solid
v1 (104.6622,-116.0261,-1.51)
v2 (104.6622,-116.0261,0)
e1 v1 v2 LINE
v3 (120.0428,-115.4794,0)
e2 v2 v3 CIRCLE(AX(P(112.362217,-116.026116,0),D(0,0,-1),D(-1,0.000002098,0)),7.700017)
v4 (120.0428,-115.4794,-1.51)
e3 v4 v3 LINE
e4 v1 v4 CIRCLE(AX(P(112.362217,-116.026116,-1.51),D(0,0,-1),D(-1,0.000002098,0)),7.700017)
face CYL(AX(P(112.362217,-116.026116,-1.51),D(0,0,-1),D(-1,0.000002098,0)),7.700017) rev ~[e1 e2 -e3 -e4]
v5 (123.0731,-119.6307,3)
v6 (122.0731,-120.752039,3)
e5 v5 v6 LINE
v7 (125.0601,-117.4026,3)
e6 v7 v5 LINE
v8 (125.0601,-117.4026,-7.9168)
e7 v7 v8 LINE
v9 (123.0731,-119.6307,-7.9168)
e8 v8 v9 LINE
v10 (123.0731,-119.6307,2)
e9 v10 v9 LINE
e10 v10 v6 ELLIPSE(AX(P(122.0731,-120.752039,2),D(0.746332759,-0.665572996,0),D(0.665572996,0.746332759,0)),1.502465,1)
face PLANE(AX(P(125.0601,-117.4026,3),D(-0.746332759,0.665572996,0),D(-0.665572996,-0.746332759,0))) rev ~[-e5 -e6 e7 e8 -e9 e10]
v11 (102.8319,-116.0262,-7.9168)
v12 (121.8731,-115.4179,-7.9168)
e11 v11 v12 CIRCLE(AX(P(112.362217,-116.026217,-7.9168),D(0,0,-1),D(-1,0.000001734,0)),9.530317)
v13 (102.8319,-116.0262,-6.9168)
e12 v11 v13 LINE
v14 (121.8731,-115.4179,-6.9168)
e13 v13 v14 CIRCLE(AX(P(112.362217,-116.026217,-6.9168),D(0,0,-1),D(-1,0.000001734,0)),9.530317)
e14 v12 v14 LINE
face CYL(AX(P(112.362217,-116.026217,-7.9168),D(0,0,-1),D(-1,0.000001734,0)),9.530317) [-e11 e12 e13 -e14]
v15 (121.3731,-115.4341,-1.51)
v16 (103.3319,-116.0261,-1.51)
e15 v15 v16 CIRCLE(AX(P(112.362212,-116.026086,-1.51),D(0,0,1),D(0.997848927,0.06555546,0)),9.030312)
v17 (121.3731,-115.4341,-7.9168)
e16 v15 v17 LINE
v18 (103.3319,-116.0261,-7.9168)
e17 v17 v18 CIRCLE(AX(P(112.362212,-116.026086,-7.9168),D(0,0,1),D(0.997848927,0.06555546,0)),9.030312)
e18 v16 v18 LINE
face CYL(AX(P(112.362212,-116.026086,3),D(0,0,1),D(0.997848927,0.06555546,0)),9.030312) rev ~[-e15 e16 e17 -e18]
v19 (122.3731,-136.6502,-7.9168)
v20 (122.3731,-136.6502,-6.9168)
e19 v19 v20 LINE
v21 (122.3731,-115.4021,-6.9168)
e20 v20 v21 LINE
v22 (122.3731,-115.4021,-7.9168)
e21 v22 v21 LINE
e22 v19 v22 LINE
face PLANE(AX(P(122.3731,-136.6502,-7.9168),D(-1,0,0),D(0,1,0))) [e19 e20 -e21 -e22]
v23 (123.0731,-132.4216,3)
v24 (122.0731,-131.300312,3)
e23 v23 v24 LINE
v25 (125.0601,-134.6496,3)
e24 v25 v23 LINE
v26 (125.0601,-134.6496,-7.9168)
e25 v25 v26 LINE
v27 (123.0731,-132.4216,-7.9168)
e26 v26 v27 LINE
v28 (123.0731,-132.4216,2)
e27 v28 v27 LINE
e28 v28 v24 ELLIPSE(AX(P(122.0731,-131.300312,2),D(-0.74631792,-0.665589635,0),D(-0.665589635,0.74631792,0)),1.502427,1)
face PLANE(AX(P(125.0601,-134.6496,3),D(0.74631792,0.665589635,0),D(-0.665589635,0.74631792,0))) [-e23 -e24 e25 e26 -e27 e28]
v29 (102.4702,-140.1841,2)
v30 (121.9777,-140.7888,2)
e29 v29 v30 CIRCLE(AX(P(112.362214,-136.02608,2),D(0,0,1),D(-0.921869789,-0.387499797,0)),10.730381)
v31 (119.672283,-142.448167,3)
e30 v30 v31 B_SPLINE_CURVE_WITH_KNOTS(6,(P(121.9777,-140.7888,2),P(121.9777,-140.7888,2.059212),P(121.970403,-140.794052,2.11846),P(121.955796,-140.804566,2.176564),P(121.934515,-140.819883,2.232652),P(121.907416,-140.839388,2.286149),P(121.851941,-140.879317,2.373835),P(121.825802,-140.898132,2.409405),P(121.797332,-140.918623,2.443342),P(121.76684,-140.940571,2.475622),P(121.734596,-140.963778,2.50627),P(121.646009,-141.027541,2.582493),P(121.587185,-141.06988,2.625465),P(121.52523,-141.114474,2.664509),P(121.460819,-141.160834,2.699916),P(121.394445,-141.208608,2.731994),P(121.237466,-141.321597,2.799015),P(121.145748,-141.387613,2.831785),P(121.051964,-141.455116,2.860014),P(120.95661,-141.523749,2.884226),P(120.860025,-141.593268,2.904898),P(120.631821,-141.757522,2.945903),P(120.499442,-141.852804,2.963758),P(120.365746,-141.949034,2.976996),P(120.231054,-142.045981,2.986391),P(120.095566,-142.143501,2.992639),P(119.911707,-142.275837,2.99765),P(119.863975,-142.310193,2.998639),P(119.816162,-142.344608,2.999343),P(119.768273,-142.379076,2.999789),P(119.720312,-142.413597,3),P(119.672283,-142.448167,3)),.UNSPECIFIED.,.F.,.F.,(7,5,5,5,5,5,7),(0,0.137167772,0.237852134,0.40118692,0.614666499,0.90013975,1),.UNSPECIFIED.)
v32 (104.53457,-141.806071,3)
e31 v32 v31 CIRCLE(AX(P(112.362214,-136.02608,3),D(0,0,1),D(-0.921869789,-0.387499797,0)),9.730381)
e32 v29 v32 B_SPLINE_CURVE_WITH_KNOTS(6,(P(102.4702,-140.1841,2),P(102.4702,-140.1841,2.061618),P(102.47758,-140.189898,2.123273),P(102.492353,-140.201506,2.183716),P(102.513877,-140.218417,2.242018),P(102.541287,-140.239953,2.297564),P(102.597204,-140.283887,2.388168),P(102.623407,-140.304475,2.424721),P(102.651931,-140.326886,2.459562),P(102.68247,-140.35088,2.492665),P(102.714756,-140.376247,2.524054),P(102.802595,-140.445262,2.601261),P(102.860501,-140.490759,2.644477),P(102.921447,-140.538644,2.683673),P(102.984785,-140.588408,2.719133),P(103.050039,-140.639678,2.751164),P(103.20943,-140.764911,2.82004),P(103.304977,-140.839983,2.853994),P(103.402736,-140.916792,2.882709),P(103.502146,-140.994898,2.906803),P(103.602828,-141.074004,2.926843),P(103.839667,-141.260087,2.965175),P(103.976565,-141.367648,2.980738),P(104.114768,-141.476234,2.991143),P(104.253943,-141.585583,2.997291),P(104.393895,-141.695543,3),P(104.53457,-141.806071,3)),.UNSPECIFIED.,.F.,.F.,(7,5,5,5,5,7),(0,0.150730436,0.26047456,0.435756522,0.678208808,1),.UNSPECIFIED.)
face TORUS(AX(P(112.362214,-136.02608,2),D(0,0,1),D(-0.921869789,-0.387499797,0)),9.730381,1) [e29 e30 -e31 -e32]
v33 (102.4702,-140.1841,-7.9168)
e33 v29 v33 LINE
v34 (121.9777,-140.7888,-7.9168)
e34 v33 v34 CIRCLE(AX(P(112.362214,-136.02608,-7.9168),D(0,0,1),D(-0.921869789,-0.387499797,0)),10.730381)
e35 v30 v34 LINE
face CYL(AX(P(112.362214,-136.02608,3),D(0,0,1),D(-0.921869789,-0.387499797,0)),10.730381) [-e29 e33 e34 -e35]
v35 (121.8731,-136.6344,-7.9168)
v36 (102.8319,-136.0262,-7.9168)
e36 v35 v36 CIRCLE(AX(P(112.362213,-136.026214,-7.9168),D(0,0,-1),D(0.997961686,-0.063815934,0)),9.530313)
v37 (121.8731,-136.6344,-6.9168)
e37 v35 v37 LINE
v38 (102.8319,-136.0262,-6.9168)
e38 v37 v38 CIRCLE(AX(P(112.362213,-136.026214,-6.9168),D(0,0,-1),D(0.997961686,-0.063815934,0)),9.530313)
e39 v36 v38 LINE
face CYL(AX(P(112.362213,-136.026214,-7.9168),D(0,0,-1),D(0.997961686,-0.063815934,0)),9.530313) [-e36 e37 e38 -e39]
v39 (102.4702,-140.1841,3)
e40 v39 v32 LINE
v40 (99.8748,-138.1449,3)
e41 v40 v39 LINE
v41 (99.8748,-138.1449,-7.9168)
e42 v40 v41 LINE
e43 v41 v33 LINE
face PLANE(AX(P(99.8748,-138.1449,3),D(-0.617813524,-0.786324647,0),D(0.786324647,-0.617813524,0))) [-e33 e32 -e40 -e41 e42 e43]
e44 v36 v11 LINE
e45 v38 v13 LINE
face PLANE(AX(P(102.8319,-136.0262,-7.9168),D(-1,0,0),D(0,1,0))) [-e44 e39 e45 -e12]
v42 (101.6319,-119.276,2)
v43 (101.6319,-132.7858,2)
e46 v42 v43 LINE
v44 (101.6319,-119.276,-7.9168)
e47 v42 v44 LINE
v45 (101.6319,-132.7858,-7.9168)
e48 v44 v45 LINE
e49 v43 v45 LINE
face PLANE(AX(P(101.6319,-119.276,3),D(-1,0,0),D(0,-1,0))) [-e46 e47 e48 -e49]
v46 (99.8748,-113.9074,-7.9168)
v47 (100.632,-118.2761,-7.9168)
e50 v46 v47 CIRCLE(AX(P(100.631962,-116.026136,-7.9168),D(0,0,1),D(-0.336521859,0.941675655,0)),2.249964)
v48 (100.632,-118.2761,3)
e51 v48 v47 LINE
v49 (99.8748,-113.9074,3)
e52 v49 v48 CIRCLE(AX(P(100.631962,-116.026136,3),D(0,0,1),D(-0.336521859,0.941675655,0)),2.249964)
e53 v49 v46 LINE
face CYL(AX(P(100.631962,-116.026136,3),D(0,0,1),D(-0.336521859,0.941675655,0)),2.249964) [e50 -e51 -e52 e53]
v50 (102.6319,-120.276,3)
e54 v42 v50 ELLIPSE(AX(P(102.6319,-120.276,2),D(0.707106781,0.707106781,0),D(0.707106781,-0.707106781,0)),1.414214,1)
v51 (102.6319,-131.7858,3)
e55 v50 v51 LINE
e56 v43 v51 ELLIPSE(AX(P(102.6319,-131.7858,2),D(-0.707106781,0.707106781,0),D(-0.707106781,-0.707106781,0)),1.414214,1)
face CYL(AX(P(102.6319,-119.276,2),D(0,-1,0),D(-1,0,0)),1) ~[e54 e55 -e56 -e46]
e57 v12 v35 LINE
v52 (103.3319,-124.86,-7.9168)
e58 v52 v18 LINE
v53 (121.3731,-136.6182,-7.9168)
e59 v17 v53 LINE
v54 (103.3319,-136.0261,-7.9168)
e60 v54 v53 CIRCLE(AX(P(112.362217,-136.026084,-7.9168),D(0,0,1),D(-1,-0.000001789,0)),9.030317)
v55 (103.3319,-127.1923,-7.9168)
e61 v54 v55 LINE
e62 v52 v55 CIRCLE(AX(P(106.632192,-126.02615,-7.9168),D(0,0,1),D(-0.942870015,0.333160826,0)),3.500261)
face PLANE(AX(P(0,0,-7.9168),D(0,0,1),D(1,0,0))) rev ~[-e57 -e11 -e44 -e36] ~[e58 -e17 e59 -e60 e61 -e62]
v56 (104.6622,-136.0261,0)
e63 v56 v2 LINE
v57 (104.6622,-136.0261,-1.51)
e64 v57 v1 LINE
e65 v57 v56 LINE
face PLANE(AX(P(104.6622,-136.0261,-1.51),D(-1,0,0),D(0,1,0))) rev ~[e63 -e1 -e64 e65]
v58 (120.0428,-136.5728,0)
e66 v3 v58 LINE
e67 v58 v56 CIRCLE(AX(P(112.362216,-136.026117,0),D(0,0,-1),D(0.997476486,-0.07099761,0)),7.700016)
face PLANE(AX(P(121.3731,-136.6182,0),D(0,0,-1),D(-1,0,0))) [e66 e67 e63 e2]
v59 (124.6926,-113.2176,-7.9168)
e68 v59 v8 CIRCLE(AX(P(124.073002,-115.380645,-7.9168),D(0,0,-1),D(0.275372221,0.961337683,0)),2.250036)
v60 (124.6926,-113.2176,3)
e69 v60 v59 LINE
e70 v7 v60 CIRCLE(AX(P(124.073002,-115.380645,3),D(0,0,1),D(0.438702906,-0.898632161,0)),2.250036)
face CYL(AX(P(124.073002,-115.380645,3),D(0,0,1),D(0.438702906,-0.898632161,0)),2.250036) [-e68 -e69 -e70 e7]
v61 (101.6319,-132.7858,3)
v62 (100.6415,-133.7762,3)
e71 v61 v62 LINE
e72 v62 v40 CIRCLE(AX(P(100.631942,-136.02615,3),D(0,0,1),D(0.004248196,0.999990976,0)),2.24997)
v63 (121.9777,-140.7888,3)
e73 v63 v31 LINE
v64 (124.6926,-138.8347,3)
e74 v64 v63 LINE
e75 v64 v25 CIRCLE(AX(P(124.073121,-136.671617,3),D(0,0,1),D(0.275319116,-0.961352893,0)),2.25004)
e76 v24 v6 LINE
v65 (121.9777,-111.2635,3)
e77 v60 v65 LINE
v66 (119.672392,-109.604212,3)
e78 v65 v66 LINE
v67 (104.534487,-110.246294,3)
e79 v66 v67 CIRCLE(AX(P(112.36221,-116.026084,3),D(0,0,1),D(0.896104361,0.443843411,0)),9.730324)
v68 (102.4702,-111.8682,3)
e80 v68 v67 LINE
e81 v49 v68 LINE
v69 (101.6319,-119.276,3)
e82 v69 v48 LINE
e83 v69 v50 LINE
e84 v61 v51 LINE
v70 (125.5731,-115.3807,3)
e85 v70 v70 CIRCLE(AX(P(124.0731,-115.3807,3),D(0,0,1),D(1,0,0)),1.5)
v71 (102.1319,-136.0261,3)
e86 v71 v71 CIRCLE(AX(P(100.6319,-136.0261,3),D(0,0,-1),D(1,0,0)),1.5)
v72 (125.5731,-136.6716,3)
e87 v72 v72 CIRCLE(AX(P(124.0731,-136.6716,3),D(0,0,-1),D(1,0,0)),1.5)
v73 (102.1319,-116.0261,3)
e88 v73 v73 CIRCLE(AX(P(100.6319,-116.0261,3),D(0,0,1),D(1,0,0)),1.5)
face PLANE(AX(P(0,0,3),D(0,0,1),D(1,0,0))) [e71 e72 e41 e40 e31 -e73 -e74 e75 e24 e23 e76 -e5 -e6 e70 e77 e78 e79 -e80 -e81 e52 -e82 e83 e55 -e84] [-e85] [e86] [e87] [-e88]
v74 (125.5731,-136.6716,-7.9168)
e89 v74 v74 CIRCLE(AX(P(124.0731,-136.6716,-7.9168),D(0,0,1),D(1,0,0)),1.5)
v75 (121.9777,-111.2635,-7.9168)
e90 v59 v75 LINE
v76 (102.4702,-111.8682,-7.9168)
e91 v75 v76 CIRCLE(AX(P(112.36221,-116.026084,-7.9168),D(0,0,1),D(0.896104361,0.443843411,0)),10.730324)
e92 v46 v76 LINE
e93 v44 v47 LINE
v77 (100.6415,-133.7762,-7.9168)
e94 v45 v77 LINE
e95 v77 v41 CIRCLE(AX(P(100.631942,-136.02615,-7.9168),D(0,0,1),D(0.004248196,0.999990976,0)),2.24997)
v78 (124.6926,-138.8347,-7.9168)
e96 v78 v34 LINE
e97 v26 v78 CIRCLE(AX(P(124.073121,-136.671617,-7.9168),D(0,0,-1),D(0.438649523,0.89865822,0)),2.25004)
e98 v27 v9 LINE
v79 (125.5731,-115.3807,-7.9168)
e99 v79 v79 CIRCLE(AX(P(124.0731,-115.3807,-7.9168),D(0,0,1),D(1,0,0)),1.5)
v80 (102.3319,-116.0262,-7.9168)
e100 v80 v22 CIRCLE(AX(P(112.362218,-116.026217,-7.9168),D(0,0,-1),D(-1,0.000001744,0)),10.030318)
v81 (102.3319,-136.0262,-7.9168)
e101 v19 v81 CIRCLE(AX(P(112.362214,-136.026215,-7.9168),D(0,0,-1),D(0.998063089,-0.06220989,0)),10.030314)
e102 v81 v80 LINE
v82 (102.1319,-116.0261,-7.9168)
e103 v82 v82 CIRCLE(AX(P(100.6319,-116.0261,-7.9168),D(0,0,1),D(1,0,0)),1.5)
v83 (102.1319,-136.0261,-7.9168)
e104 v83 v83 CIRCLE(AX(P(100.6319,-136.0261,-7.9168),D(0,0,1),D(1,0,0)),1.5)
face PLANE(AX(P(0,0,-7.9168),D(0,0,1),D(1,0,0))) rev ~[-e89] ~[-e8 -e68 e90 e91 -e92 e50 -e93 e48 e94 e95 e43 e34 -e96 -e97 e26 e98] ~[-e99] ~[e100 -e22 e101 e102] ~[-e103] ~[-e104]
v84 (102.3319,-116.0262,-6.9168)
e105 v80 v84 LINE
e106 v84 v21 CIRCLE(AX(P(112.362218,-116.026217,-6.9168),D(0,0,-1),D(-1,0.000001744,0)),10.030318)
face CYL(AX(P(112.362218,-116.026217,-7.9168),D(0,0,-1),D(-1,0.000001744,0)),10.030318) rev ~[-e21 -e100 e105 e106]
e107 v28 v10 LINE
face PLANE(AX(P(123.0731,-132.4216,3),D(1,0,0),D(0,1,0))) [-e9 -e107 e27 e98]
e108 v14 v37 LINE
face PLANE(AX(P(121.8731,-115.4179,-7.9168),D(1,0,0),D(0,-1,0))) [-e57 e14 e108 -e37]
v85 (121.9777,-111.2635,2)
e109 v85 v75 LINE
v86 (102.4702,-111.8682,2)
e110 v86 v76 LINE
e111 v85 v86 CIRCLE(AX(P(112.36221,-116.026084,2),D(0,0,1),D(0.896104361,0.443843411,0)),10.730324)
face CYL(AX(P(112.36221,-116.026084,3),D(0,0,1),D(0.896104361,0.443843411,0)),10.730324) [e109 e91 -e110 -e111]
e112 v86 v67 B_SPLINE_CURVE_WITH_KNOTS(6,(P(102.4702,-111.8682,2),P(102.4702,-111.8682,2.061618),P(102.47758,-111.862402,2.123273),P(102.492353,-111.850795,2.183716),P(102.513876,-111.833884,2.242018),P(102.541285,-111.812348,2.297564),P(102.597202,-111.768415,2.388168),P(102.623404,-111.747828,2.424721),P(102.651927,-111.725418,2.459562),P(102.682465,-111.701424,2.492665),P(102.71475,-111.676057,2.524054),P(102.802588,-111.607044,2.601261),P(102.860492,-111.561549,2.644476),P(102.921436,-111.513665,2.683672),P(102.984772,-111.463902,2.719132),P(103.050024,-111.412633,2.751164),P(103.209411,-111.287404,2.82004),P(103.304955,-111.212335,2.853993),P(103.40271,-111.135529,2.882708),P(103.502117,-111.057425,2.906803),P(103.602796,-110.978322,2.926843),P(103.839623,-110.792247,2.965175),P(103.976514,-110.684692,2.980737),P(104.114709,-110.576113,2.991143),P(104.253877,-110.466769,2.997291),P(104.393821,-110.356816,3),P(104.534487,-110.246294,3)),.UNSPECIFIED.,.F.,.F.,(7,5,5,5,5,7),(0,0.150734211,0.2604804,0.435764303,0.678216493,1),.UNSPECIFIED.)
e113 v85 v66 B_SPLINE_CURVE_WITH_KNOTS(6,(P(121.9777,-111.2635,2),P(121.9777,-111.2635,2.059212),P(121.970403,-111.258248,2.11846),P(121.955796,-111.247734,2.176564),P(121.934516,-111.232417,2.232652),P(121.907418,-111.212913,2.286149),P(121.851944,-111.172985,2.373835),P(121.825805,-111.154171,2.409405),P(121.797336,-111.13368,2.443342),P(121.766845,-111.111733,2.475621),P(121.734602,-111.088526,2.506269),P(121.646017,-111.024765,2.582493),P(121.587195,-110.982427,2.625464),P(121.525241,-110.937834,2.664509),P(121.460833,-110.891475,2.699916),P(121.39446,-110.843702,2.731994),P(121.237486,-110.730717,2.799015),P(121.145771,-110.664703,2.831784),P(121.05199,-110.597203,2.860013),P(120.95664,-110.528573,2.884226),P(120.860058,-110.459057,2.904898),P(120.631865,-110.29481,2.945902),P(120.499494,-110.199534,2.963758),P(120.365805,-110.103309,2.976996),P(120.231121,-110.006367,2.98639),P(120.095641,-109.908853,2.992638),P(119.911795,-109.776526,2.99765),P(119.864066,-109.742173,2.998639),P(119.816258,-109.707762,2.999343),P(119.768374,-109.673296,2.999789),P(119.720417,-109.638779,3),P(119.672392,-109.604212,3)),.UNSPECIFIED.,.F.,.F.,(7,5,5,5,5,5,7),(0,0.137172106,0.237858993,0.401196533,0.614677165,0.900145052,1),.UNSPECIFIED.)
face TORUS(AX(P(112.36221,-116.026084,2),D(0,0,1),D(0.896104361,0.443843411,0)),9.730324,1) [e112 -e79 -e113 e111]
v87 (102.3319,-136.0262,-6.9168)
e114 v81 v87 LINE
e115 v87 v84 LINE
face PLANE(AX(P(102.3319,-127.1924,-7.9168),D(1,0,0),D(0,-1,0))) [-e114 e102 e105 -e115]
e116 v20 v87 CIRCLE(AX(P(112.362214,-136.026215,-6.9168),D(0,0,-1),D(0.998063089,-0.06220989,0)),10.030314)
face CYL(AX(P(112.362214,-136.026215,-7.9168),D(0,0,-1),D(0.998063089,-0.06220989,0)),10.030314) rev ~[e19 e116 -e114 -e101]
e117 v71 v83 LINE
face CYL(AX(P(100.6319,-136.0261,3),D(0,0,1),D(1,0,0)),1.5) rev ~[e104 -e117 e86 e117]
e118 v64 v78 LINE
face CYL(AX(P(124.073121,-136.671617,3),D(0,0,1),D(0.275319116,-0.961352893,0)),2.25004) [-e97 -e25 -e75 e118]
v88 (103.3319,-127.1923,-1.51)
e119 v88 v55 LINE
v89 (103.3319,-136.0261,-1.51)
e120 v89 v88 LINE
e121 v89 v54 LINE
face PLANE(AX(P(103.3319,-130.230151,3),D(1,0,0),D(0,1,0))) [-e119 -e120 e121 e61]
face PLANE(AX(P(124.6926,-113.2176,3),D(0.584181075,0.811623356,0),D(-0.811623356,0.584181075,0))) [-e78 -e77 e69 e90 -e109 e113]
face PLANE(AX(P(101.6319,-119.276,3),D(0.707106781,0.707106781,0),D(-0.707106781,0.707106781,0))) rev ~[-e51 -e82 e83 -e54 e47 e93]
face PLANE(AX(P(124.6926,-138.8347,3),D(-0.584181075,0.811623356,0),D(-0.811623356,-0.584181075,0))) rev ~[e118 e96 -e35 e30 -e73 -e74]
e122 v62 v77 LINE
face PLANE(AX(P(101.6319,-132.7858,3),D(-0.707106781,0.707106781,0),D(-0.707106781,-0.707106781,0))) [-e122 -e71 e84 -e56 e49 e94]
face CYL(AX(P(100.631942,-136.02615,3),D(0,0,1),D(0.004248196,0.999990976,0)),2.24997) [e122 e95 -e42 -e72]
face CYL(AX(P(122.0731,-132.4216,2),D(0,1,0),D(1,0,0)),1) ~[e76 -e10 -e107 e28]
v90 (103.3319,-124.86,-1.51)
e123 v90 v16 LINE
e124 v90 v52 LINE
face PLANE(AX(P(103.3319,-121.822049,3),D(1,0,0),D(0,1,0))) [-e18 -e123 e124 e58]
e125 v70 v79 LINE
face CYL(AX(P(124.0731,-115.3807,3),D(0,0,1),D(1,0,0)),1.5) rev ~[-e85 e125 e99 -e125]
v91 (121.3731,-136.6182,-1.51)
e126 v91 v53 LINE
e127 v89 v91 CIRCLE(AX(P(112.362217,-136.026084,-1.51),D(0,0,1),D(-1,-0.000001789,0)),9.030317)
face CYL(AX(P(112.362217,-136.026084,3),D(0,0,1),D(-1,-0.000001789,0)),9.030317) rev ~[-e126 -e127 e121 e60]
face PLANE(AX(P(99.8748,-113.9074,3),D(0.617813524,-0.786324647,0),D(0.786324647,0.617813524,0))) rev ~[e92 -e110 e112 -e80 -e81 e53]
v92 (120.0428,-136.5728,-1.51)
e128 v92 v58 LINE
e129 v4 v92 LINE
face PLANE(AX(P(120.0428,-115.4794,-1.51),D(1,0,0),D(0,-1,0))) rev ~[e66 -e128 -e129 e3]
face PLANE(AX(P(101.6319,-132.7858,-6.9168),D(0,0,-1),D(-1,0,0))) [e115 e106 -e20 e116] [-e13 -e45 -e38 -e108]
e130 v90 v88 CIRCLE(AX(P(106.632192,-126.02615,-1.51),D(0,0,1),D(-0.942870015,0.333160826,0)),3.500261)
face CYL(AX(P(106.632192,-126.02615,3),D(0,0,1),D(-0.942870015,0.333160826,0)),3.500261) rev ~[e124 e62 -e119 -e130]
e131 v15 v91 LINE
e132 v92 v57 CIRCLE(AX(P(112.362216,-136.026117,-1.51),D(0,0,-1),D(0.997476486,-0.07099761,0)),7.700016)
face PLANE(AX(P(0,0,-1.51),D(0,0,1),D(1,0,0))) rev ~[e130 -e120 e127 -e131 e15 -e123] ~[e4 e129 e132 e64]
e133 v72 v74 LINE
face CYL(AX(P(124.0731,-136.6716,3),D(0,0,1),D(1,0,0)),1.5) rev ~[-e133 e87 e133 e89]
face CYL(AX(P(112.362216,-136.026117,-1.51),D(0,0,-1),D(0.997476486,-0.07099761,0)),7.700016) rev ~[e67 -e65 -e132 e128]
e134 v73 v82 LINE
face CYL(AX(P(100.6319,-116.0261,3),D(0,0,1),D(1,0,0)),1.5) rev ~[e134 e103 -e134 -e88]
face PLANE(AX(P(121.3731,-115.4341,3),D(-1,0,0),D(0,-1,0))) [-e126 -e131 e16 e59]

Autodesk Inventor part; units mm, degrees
ref_plane "Work Plane1" through (0, 0, 0) normal (0, 0, 1) x (1, 0, 0)
sketch "Sketch1" plane through (0, 0, 0) normal (0, 0, 1) x (1, 0, 0)
  line L0 (119.8428, -136.5657) -> (119.8428, -115.4866) projected
  arc A0 (119.8428, -115.4866) -> (104.8622, -116.0261) centre (112.3622, -116.0261) ccw projected
  line L1 (104.8622, -136.0261) -> (104.8622, -116.0261) projected
  arc A1 (104.8622, -136.0261) -> (119.8428, -136.5657) centre (112.3622, -136.0261) ccw projected
  circle A2 centre (117.3428, -116.0541) radius 0.5 projected
  circle A3 centre (106.6428, -124.9791) radius 0.5 projected
  circle A4 centre (106.6428, -127.5191) radius 0.5 projected
  circle A5 centre (117.3428, -136.0541) radius 0.5 projected
  arc A6 (103.3319, -124.86) -> (103.3319, -127.1923) centre (106.6319, -126.0261) ccw projected
  line L2 (103.3319, -124.86) -> (103.3319, -116.0261) projected
  arc A7 (121.3731, -115.4341) -> (103.3319, -116.0261) centre (112.3622, -116.0261) ccw projected
  line L3 (121.3731, -115.4341) -> (121.3731, -136.6182) projected
  arc A8 (103.3319, -136.0261) -> (121.3731, -136.6182) centre (112.3622, -136.0261) ccw projected
  line L4 (103.3319, -136.0261) -> (103.3319, -127.1923) projected
  arc A9 (121.8731, -115.4179) -> (102.8319, -116.0261) centre (112.3622, -116.0261) ccw projected
  line L5 (102.8319, -116.0261) -> (102.8319, -136.0261) projected
  arc A10 (102.8319, -136.0261) -> (121.8731, -136.6344) centre (112.3622, -136.0261) ccw projected
  line L6 (121.8731, -136.6344) -> (121.8731, -115.4179) projected
  point P0 (0, 0)
  point P1 (107.9, -107.4721)
  point P2 (107.9, -127.4721)
extrude "Extrusion1" add sketch "Sketch1" along normal blind 3 contours A1 L1 A0 L0 | A2 | A3 | A4 | A5
ref_plane "Work Plane3" through (97.1697, -138.2024, -7.9168) normal (0, 0, 1) x (1, 0, 0)
ref_plane "Work Plane4" through (100.4, -134.9721, -1.51) normal (0, 0, -1) x (0, 1, 0)
sketch "Sketch4" plane through (0, 0, 3) normal (0, 0, 1) x (1, 0, 0)
  line L0 (103.3319, -124.86) -> (103.3319, -116.0261)
  line L1 (103.3319, -136.0261) -> (103.3319, -127.1923)
  arc A0 (103.3319, -136.0261) -> (121.3731, -136.6182) centre (112.3622, -136.0261) ccw
  line L2 (121.3731, -115.4341) -> (121.3731, -136.6182)
  arc A1 (121.3731, -115.4341) -> (103.3319, -116.0261) centre (112.3622, -116.0261) ccw
  line L3 (103.3319, -124.86) -> (103.3319, -127.1923)
  circle A2 centre (112.3622, -136.0261) radius 6.35
  line L4 (119.8428, -136.5657) -> (119.8428, -115.4866)
  arc A3 (119.8428, -115.4866) -> (104.8622, -116.0261) centre (112.3622, -116.0261) ccw
  line L5 (104.8622, -116.0261) -> (104.8622, -136.0261)
  arc A4 (104.8622, -136.0261) -> (119.8428, -136.5657) centre (112.3622, -136.0261) ccw
  point P0 (0, 0)
extrude "Extrusion4" add sketch "Sketch4" against normal up to surface (4.51 mm away) contours L0 A1 L2 A0 L1 L3
sketch "Sketch5" plane through (121.3731, -136.6182, -1.51) normal (0, 0, -1) x (-1, 0, 0)
  line L0 (16.5109, 20.5921) -> (16.5109, 13.6117) projected
  line L1 (16.5109, 0.5921) -> (16.5109, 20.5921) projected
  arc A0 (1.5303, 0.0526) -> (16.5109, 0.5921) centre (9.0109, 0.5921) ccw projected
  line L2 (1.5303, 0.0526) -> (1.5303, 21.1316) projected
  arc A1 (16.5109, 20.5921) -> (1.5303, 21.1316) centre (9.0109, 20.5921) ccw projected
  line L3 (1.3303, 21.1388) -> (1.3303, 0.0454)
  arc A2 (1.3303, 0.0454) -> (16.7109, 0.5921) centre (9.0109, 0.5921) ccw
  line L4 (16.7109, 0.5921) -> (16.7109, 20.5921)
  arc A3 (16.7109, 20.5921) -> (1.3303, 21.1388) centre (9.0109, 20.5921) ccw
  point P0 (121.3731, 136.6182)
  dimension "d10" = 0.2
extrude "Extrusion5" cut sketch "Sketch5" against normal up to surface (1.51 mm away)
ref_plane "Work Plane5" through (93.9197, -138.2024, -7.9168) normal (0, 0, 1) x (1, 0, 0)
ref_plane "Work Plane6" through (93.9197, -138.2024, -7.9168) normal (0, 0, 1) x (1, 0, 0)
sketch "Sketch10" plane through (0, 0, 3) normal (0, 0, 1) x (1, 0, 0)
  line L0 (103.3319, -116.0261) -> (103.3319, -136.0261) projected
  arc A0 (103.3319, -124.86) -> (103.3319, -127.1923) centre (106.6319, -126.0261) ccw projected
  point P0 (0, 0)
  point P1 (103.3319, -135.2618)
extrude "Extrusion10" add sketch "Sketch10" against normal up to surface (4.51 mm away)
sketch "Sketch11" plane through (0, 0, 3) normal (0, 0, 1) x (1, 0, 0)
  circle A0 centre (124.0731, -115.3807) radius 1.5 projected
  circle A1 centre (100.6319, -116.0261) radius 1.5 projected
  circle A2 centre (124.0731, -136.6716) radius 1.5 projected
  circle A3 centre (100.6319, -136.0261) radius 1.5 projected
  line L0 (101.6319, -119.276) -> (100.632, -118.2761) projected
  line L1 (101.6319, -119.276) -> (101.6319, -132.7858) projected
  line L2 (101.6319, -132.7858) -> (100.6415, -133.7762) projected
  arc A4 (100.6415, -133.7762) -> (99.8748, -138.1449) centre (100.6319, -136.0261) ccw projected
  line L3 (99.8748, -138.1449) -> (102.4702, -140.1841) projected
  arc A5 (102.4702, -140.1841) -> (121.9777, -140.7888) centre (112.3622, -136.0261) ccw projected
  line L4 (124.6926, -138.8347) -> (121.9777, -140.7888) projected
  arc A6 (124.6926, -138.8347) -> (125.0601, -134.6496) centre (124.0731, -136.6716) ccw projected
  line L5 (125.0601, -134.6496) -> (123.0731, -132.4216) projected
  line L6 (123.0731, -132.4216) -> (123.0731, -119.6307) projected
  line L7 (125.0601, -117.4026) -> (123.0731, -119.6307) projected
  arc A7 (125.0601, -117.4026) -> (124.6926, -113.2176) centre (124.0731, -115.3807) ccw projected
  line L8 (124.6926, -113.2176) -> (121.9777, -111.2635) projected
  arc A8 (121.9777, -111.2635) -> (102.4702, -111.8682) centre (112.3622, -116.0261) ccw projected
  line L9 (99.8748, -113.9074) -> (102.4702, -111.8682) projected
  arc A9 (99.8748, -113.9074) -> (100.6319, -118.2761) centre (100.6319, -116.0261) ccw projected
  arc A10 (102.3319, -136.0261) -> (122.3731, -136.6502) centre (112.3622, -136.0261) ccw projected
  line L10 (102.3319, -136.0261) -> (102.3319, -116.0261) projected
  arc A11 (122.3731, -115.4021) -> (102.3319, -116.0261) centre (112.3622, -116.0261) ccw projected
  line L11 (122.3731, -115.4021) -> (122.3731, -136.6502) projected
  line L12 (102.3319, -136.0261) -> (102.3319, -116.0261) projected
  arc A12 (102.3319, -136.0261) -> (122.3731, -136.6502) centre (112.3622, -136.0261) ccw projected
  line L13 (122.3731, -115.4021) -> (122.3731, -136.6502) projected
  arc A13 (122.3731, -115.4021) -> (102.3319, -116.0261) centre (112.3622, -116.0261) ccw projected
  line L14 (102.8319, -116.0261) -> (102.8319, -136.0261) projected
  arc A14 (121.8731, -115.4179) -> (102.8319, -116.0261) centre (112.3622, -116.0261) ccw projected
  line L15 (121.8731, -136.6344) -> (121.8731, -115.4179) projected
  arc A15 (102.8319, -136.0261) -> (121.8731, -136.6344) centre (112.3622, -136.0261) ccw projected
  arc A16 (121.8731, -115.4179) -> (102.8319, -116.0261) centre (112.3622, -116.0261) ccw projected
  line L16 (102.8319, -116.0261) -> (102.8319, -136.0261) projected
  arc A17 (102.8319, -136.0261) -> (121.8731, -136.6344) centre (112.3622, -136.0261) ccw projected
  line L17 (121.8731, -136.6344) -> (121.8731, -115.4179) projected
  arc A18 (103.3319, -124.86) -> (103.3319, -127.1923) centre (106.6319, -126.0261) ccw projected
  line L18 (103.3319, -124.86) -> (103.3319, -116.0261) projected
  arc A19 (121.3731, -115.4341) -> (103.3319, -116.0261) centre (112.3622, -116.0261) ccw projected
  line L19 (121.3731, -115.4341) -> (121.3731, -136.6182) projected
  arc A20 (103.3319, -136.0261) -> (121.3731, -136.6182) centre (112.3622, -136.0261) ccw projected
  line L20 (103.3319, -136.0261) -> (103.3319, -127.1923) projected
  line L21 (101.6319, -119.276) -> (101.6319, -132.7858)
  line L22 (101.6319, -132.7858) -> (100.6415, -133.7762)
  circle A21 centre (100.6319, -136.0261) radius 2.25
  line L23 (99.8748, -138.1449) -> (102.4702, -140.1841)
  circle A22 centre (112.3622, -136.0261) radius 10.7303
  line L24 (121.9777, -140.7888) -> (124.6926, -138.8347)
  circle A23 centre (124.0731, -136.6716) radius 2.25
  line L25 (123.0731, -132.4216) -> (125.0601, -134.6496)
  line L26 (123.0731, -132.4216) -> (123.0731, -119.6307)
  line L27 (123.0731, -119.6307) -> (125.0601, -117.4026)
  line L28 (124.6926, -113.2176) -> (121.9777, -111.2635)
  circle A24 centre (112.3622, -116.0261) radius 10.7303
  line L29 (102.4702, -111.8682) -> (99.8748, -113.9074)
  circle A25 centre (100.6319, -116.0261) radius 2.25
  line L30 (100.6319, -118.2761) -> (101.6319, -119.276)
  circle A26 centre (124.0731, -115.3807) radius 2.25
  point P0 (0, 0)
ref_plane "Work Plane8" through (98.3819, -146.7565, -7.9168) normal (0, 0, 1) x (1, 0, 0)
extrude "Extrusion11" add sketch "Sketch11" against normal up to surface (10.9168 mm away) contours A0 A24 A26 A7 | A0 A24 A26 L11 A11 | A26 A11 A25 A24 A8 | A24 L8 A26 | A26 L7 L6 L5 A23 A22 L11 A24 | A24 L11 A26 | A26 A14 A25 A11 | A11 L11 A26 L15 A14 | A24 L15 A26 L11 | L11 A22 L15 A24 | A24 A25 L9 | A25 A14 L14 L10 A11 | A11 L10 A25 A24 A1 | A26 L15 A24 L19 A19 L18 L14 A25 A14 | A14 L15 A26 | A22 A23 L11 | L11 A23 L15 A22 | L15 A22 L19 A24 | A25 A24 A1 A9 | A25 L14 A14 | A23 A22 A2 A10 L11 | L11 A10 A23 A15 L15 | A23 A6 A22 A2 | L15 A23 A15 A21 L14 A22 L20 A20 L19 | A25 A24 L10 A22 A21 L2 L1 L0 | A25 L14 A24 L10 | L10 A24 A25 | L15 A15 A23 | A24 L14 A22 L10 | A23 A22 A5 A21 A10 | A10 A21 A15 A23 | A22 L14 A21 L10 | L10 A21 A22 | A24 L18 A18 L20 A22 L14 | A21 A22 A3 L10 A10 | A10 L10 A21 L14 A15 | A23 L4 A22 | A15 L14 A21 | A21 A22 A3 A4 | A22 L3 A21
sketch "Sketch13" plane through (101.6319, -132.7858, -7.9168) normal (0, 0, -1) x (-1, 0, 0)
  line L0 (-1.7, 5.5934) -> (-1.7, -3.2404) projected
  line L1 (-1.7, 5.5934) -> (-1.7, 7.9258)
  arc A0 (-19.7412, -3.8325) -> (-1.7, -3.2404) centre (-10.7303, -3.2404) ccw projected
  line L2 (-19.7412, 17.3517) -> (-19.7412, -3.8325) projected
  arc A1 (-1.7, 16.7596) -> (-19.7412, 17.3517) centre (-10.7303, 16.7596) ccw projected
  line L3 (-1.7, 7.9258) -> (-1.7, 16.7596) projected
  line L4 (-1.2, -3.2404) -> (-1.2, 5.5934)
  line L5 (-1.2, 5.5934) -> (-1.2, 7.9258)
  line L6 (-1.2, 7.9258) -> (-1.2, 16.7596)
  arc A2 (-1.2, 16.7596) -> (-20.2412, 17.3679) centre (-10.7303, 16.7596) ccw
  line L7 (-20.2412, 17.3679) -> (-20.2412, -3.8486)
  arc A3 (-20.2412, -3.8486) -> (-1.2, -3.2404) centre (-10.7303, -3.2404) ccw
  line L8 (-0.7, 5.5934) -> (-0.7, -3.2404)
  arc A4 (-20.7412, -3.8644) -> (-0.7, -3.2404) centre (-10.7303, -3.2404) ccw
  line L9 (-20.7412, -3.8644) -> (-20.7412, 17.3837)
  arc A5 (-0.7, 16.7596) -> (-20.7412, 17.3837) centre (-10.7303, 16.7596) ccw
  line L10 (-0.7, 16.7596) -> (-0.7, 7.9258)
  line L11 (-0.7, 7.9258) -> (-0.7, 5.5934)
  point P0 (101.6319, 132.7858)
  dimension "d31" = 0.5
  dimension "d32" = 0.5
extrude "Extrusion12" cut sketch "Sketch13" against normal blind 1 contours L8 A4 L9 A5 L10 L11
fillet "Fillet4" radius 1 4 edges at (112.0298, -105.301, 3) (101.6319, -126.0309, 3) (112.0298, -146.7513, 3) (123.0731, -126.0261, 3)
properties part number "battery_case_top"
